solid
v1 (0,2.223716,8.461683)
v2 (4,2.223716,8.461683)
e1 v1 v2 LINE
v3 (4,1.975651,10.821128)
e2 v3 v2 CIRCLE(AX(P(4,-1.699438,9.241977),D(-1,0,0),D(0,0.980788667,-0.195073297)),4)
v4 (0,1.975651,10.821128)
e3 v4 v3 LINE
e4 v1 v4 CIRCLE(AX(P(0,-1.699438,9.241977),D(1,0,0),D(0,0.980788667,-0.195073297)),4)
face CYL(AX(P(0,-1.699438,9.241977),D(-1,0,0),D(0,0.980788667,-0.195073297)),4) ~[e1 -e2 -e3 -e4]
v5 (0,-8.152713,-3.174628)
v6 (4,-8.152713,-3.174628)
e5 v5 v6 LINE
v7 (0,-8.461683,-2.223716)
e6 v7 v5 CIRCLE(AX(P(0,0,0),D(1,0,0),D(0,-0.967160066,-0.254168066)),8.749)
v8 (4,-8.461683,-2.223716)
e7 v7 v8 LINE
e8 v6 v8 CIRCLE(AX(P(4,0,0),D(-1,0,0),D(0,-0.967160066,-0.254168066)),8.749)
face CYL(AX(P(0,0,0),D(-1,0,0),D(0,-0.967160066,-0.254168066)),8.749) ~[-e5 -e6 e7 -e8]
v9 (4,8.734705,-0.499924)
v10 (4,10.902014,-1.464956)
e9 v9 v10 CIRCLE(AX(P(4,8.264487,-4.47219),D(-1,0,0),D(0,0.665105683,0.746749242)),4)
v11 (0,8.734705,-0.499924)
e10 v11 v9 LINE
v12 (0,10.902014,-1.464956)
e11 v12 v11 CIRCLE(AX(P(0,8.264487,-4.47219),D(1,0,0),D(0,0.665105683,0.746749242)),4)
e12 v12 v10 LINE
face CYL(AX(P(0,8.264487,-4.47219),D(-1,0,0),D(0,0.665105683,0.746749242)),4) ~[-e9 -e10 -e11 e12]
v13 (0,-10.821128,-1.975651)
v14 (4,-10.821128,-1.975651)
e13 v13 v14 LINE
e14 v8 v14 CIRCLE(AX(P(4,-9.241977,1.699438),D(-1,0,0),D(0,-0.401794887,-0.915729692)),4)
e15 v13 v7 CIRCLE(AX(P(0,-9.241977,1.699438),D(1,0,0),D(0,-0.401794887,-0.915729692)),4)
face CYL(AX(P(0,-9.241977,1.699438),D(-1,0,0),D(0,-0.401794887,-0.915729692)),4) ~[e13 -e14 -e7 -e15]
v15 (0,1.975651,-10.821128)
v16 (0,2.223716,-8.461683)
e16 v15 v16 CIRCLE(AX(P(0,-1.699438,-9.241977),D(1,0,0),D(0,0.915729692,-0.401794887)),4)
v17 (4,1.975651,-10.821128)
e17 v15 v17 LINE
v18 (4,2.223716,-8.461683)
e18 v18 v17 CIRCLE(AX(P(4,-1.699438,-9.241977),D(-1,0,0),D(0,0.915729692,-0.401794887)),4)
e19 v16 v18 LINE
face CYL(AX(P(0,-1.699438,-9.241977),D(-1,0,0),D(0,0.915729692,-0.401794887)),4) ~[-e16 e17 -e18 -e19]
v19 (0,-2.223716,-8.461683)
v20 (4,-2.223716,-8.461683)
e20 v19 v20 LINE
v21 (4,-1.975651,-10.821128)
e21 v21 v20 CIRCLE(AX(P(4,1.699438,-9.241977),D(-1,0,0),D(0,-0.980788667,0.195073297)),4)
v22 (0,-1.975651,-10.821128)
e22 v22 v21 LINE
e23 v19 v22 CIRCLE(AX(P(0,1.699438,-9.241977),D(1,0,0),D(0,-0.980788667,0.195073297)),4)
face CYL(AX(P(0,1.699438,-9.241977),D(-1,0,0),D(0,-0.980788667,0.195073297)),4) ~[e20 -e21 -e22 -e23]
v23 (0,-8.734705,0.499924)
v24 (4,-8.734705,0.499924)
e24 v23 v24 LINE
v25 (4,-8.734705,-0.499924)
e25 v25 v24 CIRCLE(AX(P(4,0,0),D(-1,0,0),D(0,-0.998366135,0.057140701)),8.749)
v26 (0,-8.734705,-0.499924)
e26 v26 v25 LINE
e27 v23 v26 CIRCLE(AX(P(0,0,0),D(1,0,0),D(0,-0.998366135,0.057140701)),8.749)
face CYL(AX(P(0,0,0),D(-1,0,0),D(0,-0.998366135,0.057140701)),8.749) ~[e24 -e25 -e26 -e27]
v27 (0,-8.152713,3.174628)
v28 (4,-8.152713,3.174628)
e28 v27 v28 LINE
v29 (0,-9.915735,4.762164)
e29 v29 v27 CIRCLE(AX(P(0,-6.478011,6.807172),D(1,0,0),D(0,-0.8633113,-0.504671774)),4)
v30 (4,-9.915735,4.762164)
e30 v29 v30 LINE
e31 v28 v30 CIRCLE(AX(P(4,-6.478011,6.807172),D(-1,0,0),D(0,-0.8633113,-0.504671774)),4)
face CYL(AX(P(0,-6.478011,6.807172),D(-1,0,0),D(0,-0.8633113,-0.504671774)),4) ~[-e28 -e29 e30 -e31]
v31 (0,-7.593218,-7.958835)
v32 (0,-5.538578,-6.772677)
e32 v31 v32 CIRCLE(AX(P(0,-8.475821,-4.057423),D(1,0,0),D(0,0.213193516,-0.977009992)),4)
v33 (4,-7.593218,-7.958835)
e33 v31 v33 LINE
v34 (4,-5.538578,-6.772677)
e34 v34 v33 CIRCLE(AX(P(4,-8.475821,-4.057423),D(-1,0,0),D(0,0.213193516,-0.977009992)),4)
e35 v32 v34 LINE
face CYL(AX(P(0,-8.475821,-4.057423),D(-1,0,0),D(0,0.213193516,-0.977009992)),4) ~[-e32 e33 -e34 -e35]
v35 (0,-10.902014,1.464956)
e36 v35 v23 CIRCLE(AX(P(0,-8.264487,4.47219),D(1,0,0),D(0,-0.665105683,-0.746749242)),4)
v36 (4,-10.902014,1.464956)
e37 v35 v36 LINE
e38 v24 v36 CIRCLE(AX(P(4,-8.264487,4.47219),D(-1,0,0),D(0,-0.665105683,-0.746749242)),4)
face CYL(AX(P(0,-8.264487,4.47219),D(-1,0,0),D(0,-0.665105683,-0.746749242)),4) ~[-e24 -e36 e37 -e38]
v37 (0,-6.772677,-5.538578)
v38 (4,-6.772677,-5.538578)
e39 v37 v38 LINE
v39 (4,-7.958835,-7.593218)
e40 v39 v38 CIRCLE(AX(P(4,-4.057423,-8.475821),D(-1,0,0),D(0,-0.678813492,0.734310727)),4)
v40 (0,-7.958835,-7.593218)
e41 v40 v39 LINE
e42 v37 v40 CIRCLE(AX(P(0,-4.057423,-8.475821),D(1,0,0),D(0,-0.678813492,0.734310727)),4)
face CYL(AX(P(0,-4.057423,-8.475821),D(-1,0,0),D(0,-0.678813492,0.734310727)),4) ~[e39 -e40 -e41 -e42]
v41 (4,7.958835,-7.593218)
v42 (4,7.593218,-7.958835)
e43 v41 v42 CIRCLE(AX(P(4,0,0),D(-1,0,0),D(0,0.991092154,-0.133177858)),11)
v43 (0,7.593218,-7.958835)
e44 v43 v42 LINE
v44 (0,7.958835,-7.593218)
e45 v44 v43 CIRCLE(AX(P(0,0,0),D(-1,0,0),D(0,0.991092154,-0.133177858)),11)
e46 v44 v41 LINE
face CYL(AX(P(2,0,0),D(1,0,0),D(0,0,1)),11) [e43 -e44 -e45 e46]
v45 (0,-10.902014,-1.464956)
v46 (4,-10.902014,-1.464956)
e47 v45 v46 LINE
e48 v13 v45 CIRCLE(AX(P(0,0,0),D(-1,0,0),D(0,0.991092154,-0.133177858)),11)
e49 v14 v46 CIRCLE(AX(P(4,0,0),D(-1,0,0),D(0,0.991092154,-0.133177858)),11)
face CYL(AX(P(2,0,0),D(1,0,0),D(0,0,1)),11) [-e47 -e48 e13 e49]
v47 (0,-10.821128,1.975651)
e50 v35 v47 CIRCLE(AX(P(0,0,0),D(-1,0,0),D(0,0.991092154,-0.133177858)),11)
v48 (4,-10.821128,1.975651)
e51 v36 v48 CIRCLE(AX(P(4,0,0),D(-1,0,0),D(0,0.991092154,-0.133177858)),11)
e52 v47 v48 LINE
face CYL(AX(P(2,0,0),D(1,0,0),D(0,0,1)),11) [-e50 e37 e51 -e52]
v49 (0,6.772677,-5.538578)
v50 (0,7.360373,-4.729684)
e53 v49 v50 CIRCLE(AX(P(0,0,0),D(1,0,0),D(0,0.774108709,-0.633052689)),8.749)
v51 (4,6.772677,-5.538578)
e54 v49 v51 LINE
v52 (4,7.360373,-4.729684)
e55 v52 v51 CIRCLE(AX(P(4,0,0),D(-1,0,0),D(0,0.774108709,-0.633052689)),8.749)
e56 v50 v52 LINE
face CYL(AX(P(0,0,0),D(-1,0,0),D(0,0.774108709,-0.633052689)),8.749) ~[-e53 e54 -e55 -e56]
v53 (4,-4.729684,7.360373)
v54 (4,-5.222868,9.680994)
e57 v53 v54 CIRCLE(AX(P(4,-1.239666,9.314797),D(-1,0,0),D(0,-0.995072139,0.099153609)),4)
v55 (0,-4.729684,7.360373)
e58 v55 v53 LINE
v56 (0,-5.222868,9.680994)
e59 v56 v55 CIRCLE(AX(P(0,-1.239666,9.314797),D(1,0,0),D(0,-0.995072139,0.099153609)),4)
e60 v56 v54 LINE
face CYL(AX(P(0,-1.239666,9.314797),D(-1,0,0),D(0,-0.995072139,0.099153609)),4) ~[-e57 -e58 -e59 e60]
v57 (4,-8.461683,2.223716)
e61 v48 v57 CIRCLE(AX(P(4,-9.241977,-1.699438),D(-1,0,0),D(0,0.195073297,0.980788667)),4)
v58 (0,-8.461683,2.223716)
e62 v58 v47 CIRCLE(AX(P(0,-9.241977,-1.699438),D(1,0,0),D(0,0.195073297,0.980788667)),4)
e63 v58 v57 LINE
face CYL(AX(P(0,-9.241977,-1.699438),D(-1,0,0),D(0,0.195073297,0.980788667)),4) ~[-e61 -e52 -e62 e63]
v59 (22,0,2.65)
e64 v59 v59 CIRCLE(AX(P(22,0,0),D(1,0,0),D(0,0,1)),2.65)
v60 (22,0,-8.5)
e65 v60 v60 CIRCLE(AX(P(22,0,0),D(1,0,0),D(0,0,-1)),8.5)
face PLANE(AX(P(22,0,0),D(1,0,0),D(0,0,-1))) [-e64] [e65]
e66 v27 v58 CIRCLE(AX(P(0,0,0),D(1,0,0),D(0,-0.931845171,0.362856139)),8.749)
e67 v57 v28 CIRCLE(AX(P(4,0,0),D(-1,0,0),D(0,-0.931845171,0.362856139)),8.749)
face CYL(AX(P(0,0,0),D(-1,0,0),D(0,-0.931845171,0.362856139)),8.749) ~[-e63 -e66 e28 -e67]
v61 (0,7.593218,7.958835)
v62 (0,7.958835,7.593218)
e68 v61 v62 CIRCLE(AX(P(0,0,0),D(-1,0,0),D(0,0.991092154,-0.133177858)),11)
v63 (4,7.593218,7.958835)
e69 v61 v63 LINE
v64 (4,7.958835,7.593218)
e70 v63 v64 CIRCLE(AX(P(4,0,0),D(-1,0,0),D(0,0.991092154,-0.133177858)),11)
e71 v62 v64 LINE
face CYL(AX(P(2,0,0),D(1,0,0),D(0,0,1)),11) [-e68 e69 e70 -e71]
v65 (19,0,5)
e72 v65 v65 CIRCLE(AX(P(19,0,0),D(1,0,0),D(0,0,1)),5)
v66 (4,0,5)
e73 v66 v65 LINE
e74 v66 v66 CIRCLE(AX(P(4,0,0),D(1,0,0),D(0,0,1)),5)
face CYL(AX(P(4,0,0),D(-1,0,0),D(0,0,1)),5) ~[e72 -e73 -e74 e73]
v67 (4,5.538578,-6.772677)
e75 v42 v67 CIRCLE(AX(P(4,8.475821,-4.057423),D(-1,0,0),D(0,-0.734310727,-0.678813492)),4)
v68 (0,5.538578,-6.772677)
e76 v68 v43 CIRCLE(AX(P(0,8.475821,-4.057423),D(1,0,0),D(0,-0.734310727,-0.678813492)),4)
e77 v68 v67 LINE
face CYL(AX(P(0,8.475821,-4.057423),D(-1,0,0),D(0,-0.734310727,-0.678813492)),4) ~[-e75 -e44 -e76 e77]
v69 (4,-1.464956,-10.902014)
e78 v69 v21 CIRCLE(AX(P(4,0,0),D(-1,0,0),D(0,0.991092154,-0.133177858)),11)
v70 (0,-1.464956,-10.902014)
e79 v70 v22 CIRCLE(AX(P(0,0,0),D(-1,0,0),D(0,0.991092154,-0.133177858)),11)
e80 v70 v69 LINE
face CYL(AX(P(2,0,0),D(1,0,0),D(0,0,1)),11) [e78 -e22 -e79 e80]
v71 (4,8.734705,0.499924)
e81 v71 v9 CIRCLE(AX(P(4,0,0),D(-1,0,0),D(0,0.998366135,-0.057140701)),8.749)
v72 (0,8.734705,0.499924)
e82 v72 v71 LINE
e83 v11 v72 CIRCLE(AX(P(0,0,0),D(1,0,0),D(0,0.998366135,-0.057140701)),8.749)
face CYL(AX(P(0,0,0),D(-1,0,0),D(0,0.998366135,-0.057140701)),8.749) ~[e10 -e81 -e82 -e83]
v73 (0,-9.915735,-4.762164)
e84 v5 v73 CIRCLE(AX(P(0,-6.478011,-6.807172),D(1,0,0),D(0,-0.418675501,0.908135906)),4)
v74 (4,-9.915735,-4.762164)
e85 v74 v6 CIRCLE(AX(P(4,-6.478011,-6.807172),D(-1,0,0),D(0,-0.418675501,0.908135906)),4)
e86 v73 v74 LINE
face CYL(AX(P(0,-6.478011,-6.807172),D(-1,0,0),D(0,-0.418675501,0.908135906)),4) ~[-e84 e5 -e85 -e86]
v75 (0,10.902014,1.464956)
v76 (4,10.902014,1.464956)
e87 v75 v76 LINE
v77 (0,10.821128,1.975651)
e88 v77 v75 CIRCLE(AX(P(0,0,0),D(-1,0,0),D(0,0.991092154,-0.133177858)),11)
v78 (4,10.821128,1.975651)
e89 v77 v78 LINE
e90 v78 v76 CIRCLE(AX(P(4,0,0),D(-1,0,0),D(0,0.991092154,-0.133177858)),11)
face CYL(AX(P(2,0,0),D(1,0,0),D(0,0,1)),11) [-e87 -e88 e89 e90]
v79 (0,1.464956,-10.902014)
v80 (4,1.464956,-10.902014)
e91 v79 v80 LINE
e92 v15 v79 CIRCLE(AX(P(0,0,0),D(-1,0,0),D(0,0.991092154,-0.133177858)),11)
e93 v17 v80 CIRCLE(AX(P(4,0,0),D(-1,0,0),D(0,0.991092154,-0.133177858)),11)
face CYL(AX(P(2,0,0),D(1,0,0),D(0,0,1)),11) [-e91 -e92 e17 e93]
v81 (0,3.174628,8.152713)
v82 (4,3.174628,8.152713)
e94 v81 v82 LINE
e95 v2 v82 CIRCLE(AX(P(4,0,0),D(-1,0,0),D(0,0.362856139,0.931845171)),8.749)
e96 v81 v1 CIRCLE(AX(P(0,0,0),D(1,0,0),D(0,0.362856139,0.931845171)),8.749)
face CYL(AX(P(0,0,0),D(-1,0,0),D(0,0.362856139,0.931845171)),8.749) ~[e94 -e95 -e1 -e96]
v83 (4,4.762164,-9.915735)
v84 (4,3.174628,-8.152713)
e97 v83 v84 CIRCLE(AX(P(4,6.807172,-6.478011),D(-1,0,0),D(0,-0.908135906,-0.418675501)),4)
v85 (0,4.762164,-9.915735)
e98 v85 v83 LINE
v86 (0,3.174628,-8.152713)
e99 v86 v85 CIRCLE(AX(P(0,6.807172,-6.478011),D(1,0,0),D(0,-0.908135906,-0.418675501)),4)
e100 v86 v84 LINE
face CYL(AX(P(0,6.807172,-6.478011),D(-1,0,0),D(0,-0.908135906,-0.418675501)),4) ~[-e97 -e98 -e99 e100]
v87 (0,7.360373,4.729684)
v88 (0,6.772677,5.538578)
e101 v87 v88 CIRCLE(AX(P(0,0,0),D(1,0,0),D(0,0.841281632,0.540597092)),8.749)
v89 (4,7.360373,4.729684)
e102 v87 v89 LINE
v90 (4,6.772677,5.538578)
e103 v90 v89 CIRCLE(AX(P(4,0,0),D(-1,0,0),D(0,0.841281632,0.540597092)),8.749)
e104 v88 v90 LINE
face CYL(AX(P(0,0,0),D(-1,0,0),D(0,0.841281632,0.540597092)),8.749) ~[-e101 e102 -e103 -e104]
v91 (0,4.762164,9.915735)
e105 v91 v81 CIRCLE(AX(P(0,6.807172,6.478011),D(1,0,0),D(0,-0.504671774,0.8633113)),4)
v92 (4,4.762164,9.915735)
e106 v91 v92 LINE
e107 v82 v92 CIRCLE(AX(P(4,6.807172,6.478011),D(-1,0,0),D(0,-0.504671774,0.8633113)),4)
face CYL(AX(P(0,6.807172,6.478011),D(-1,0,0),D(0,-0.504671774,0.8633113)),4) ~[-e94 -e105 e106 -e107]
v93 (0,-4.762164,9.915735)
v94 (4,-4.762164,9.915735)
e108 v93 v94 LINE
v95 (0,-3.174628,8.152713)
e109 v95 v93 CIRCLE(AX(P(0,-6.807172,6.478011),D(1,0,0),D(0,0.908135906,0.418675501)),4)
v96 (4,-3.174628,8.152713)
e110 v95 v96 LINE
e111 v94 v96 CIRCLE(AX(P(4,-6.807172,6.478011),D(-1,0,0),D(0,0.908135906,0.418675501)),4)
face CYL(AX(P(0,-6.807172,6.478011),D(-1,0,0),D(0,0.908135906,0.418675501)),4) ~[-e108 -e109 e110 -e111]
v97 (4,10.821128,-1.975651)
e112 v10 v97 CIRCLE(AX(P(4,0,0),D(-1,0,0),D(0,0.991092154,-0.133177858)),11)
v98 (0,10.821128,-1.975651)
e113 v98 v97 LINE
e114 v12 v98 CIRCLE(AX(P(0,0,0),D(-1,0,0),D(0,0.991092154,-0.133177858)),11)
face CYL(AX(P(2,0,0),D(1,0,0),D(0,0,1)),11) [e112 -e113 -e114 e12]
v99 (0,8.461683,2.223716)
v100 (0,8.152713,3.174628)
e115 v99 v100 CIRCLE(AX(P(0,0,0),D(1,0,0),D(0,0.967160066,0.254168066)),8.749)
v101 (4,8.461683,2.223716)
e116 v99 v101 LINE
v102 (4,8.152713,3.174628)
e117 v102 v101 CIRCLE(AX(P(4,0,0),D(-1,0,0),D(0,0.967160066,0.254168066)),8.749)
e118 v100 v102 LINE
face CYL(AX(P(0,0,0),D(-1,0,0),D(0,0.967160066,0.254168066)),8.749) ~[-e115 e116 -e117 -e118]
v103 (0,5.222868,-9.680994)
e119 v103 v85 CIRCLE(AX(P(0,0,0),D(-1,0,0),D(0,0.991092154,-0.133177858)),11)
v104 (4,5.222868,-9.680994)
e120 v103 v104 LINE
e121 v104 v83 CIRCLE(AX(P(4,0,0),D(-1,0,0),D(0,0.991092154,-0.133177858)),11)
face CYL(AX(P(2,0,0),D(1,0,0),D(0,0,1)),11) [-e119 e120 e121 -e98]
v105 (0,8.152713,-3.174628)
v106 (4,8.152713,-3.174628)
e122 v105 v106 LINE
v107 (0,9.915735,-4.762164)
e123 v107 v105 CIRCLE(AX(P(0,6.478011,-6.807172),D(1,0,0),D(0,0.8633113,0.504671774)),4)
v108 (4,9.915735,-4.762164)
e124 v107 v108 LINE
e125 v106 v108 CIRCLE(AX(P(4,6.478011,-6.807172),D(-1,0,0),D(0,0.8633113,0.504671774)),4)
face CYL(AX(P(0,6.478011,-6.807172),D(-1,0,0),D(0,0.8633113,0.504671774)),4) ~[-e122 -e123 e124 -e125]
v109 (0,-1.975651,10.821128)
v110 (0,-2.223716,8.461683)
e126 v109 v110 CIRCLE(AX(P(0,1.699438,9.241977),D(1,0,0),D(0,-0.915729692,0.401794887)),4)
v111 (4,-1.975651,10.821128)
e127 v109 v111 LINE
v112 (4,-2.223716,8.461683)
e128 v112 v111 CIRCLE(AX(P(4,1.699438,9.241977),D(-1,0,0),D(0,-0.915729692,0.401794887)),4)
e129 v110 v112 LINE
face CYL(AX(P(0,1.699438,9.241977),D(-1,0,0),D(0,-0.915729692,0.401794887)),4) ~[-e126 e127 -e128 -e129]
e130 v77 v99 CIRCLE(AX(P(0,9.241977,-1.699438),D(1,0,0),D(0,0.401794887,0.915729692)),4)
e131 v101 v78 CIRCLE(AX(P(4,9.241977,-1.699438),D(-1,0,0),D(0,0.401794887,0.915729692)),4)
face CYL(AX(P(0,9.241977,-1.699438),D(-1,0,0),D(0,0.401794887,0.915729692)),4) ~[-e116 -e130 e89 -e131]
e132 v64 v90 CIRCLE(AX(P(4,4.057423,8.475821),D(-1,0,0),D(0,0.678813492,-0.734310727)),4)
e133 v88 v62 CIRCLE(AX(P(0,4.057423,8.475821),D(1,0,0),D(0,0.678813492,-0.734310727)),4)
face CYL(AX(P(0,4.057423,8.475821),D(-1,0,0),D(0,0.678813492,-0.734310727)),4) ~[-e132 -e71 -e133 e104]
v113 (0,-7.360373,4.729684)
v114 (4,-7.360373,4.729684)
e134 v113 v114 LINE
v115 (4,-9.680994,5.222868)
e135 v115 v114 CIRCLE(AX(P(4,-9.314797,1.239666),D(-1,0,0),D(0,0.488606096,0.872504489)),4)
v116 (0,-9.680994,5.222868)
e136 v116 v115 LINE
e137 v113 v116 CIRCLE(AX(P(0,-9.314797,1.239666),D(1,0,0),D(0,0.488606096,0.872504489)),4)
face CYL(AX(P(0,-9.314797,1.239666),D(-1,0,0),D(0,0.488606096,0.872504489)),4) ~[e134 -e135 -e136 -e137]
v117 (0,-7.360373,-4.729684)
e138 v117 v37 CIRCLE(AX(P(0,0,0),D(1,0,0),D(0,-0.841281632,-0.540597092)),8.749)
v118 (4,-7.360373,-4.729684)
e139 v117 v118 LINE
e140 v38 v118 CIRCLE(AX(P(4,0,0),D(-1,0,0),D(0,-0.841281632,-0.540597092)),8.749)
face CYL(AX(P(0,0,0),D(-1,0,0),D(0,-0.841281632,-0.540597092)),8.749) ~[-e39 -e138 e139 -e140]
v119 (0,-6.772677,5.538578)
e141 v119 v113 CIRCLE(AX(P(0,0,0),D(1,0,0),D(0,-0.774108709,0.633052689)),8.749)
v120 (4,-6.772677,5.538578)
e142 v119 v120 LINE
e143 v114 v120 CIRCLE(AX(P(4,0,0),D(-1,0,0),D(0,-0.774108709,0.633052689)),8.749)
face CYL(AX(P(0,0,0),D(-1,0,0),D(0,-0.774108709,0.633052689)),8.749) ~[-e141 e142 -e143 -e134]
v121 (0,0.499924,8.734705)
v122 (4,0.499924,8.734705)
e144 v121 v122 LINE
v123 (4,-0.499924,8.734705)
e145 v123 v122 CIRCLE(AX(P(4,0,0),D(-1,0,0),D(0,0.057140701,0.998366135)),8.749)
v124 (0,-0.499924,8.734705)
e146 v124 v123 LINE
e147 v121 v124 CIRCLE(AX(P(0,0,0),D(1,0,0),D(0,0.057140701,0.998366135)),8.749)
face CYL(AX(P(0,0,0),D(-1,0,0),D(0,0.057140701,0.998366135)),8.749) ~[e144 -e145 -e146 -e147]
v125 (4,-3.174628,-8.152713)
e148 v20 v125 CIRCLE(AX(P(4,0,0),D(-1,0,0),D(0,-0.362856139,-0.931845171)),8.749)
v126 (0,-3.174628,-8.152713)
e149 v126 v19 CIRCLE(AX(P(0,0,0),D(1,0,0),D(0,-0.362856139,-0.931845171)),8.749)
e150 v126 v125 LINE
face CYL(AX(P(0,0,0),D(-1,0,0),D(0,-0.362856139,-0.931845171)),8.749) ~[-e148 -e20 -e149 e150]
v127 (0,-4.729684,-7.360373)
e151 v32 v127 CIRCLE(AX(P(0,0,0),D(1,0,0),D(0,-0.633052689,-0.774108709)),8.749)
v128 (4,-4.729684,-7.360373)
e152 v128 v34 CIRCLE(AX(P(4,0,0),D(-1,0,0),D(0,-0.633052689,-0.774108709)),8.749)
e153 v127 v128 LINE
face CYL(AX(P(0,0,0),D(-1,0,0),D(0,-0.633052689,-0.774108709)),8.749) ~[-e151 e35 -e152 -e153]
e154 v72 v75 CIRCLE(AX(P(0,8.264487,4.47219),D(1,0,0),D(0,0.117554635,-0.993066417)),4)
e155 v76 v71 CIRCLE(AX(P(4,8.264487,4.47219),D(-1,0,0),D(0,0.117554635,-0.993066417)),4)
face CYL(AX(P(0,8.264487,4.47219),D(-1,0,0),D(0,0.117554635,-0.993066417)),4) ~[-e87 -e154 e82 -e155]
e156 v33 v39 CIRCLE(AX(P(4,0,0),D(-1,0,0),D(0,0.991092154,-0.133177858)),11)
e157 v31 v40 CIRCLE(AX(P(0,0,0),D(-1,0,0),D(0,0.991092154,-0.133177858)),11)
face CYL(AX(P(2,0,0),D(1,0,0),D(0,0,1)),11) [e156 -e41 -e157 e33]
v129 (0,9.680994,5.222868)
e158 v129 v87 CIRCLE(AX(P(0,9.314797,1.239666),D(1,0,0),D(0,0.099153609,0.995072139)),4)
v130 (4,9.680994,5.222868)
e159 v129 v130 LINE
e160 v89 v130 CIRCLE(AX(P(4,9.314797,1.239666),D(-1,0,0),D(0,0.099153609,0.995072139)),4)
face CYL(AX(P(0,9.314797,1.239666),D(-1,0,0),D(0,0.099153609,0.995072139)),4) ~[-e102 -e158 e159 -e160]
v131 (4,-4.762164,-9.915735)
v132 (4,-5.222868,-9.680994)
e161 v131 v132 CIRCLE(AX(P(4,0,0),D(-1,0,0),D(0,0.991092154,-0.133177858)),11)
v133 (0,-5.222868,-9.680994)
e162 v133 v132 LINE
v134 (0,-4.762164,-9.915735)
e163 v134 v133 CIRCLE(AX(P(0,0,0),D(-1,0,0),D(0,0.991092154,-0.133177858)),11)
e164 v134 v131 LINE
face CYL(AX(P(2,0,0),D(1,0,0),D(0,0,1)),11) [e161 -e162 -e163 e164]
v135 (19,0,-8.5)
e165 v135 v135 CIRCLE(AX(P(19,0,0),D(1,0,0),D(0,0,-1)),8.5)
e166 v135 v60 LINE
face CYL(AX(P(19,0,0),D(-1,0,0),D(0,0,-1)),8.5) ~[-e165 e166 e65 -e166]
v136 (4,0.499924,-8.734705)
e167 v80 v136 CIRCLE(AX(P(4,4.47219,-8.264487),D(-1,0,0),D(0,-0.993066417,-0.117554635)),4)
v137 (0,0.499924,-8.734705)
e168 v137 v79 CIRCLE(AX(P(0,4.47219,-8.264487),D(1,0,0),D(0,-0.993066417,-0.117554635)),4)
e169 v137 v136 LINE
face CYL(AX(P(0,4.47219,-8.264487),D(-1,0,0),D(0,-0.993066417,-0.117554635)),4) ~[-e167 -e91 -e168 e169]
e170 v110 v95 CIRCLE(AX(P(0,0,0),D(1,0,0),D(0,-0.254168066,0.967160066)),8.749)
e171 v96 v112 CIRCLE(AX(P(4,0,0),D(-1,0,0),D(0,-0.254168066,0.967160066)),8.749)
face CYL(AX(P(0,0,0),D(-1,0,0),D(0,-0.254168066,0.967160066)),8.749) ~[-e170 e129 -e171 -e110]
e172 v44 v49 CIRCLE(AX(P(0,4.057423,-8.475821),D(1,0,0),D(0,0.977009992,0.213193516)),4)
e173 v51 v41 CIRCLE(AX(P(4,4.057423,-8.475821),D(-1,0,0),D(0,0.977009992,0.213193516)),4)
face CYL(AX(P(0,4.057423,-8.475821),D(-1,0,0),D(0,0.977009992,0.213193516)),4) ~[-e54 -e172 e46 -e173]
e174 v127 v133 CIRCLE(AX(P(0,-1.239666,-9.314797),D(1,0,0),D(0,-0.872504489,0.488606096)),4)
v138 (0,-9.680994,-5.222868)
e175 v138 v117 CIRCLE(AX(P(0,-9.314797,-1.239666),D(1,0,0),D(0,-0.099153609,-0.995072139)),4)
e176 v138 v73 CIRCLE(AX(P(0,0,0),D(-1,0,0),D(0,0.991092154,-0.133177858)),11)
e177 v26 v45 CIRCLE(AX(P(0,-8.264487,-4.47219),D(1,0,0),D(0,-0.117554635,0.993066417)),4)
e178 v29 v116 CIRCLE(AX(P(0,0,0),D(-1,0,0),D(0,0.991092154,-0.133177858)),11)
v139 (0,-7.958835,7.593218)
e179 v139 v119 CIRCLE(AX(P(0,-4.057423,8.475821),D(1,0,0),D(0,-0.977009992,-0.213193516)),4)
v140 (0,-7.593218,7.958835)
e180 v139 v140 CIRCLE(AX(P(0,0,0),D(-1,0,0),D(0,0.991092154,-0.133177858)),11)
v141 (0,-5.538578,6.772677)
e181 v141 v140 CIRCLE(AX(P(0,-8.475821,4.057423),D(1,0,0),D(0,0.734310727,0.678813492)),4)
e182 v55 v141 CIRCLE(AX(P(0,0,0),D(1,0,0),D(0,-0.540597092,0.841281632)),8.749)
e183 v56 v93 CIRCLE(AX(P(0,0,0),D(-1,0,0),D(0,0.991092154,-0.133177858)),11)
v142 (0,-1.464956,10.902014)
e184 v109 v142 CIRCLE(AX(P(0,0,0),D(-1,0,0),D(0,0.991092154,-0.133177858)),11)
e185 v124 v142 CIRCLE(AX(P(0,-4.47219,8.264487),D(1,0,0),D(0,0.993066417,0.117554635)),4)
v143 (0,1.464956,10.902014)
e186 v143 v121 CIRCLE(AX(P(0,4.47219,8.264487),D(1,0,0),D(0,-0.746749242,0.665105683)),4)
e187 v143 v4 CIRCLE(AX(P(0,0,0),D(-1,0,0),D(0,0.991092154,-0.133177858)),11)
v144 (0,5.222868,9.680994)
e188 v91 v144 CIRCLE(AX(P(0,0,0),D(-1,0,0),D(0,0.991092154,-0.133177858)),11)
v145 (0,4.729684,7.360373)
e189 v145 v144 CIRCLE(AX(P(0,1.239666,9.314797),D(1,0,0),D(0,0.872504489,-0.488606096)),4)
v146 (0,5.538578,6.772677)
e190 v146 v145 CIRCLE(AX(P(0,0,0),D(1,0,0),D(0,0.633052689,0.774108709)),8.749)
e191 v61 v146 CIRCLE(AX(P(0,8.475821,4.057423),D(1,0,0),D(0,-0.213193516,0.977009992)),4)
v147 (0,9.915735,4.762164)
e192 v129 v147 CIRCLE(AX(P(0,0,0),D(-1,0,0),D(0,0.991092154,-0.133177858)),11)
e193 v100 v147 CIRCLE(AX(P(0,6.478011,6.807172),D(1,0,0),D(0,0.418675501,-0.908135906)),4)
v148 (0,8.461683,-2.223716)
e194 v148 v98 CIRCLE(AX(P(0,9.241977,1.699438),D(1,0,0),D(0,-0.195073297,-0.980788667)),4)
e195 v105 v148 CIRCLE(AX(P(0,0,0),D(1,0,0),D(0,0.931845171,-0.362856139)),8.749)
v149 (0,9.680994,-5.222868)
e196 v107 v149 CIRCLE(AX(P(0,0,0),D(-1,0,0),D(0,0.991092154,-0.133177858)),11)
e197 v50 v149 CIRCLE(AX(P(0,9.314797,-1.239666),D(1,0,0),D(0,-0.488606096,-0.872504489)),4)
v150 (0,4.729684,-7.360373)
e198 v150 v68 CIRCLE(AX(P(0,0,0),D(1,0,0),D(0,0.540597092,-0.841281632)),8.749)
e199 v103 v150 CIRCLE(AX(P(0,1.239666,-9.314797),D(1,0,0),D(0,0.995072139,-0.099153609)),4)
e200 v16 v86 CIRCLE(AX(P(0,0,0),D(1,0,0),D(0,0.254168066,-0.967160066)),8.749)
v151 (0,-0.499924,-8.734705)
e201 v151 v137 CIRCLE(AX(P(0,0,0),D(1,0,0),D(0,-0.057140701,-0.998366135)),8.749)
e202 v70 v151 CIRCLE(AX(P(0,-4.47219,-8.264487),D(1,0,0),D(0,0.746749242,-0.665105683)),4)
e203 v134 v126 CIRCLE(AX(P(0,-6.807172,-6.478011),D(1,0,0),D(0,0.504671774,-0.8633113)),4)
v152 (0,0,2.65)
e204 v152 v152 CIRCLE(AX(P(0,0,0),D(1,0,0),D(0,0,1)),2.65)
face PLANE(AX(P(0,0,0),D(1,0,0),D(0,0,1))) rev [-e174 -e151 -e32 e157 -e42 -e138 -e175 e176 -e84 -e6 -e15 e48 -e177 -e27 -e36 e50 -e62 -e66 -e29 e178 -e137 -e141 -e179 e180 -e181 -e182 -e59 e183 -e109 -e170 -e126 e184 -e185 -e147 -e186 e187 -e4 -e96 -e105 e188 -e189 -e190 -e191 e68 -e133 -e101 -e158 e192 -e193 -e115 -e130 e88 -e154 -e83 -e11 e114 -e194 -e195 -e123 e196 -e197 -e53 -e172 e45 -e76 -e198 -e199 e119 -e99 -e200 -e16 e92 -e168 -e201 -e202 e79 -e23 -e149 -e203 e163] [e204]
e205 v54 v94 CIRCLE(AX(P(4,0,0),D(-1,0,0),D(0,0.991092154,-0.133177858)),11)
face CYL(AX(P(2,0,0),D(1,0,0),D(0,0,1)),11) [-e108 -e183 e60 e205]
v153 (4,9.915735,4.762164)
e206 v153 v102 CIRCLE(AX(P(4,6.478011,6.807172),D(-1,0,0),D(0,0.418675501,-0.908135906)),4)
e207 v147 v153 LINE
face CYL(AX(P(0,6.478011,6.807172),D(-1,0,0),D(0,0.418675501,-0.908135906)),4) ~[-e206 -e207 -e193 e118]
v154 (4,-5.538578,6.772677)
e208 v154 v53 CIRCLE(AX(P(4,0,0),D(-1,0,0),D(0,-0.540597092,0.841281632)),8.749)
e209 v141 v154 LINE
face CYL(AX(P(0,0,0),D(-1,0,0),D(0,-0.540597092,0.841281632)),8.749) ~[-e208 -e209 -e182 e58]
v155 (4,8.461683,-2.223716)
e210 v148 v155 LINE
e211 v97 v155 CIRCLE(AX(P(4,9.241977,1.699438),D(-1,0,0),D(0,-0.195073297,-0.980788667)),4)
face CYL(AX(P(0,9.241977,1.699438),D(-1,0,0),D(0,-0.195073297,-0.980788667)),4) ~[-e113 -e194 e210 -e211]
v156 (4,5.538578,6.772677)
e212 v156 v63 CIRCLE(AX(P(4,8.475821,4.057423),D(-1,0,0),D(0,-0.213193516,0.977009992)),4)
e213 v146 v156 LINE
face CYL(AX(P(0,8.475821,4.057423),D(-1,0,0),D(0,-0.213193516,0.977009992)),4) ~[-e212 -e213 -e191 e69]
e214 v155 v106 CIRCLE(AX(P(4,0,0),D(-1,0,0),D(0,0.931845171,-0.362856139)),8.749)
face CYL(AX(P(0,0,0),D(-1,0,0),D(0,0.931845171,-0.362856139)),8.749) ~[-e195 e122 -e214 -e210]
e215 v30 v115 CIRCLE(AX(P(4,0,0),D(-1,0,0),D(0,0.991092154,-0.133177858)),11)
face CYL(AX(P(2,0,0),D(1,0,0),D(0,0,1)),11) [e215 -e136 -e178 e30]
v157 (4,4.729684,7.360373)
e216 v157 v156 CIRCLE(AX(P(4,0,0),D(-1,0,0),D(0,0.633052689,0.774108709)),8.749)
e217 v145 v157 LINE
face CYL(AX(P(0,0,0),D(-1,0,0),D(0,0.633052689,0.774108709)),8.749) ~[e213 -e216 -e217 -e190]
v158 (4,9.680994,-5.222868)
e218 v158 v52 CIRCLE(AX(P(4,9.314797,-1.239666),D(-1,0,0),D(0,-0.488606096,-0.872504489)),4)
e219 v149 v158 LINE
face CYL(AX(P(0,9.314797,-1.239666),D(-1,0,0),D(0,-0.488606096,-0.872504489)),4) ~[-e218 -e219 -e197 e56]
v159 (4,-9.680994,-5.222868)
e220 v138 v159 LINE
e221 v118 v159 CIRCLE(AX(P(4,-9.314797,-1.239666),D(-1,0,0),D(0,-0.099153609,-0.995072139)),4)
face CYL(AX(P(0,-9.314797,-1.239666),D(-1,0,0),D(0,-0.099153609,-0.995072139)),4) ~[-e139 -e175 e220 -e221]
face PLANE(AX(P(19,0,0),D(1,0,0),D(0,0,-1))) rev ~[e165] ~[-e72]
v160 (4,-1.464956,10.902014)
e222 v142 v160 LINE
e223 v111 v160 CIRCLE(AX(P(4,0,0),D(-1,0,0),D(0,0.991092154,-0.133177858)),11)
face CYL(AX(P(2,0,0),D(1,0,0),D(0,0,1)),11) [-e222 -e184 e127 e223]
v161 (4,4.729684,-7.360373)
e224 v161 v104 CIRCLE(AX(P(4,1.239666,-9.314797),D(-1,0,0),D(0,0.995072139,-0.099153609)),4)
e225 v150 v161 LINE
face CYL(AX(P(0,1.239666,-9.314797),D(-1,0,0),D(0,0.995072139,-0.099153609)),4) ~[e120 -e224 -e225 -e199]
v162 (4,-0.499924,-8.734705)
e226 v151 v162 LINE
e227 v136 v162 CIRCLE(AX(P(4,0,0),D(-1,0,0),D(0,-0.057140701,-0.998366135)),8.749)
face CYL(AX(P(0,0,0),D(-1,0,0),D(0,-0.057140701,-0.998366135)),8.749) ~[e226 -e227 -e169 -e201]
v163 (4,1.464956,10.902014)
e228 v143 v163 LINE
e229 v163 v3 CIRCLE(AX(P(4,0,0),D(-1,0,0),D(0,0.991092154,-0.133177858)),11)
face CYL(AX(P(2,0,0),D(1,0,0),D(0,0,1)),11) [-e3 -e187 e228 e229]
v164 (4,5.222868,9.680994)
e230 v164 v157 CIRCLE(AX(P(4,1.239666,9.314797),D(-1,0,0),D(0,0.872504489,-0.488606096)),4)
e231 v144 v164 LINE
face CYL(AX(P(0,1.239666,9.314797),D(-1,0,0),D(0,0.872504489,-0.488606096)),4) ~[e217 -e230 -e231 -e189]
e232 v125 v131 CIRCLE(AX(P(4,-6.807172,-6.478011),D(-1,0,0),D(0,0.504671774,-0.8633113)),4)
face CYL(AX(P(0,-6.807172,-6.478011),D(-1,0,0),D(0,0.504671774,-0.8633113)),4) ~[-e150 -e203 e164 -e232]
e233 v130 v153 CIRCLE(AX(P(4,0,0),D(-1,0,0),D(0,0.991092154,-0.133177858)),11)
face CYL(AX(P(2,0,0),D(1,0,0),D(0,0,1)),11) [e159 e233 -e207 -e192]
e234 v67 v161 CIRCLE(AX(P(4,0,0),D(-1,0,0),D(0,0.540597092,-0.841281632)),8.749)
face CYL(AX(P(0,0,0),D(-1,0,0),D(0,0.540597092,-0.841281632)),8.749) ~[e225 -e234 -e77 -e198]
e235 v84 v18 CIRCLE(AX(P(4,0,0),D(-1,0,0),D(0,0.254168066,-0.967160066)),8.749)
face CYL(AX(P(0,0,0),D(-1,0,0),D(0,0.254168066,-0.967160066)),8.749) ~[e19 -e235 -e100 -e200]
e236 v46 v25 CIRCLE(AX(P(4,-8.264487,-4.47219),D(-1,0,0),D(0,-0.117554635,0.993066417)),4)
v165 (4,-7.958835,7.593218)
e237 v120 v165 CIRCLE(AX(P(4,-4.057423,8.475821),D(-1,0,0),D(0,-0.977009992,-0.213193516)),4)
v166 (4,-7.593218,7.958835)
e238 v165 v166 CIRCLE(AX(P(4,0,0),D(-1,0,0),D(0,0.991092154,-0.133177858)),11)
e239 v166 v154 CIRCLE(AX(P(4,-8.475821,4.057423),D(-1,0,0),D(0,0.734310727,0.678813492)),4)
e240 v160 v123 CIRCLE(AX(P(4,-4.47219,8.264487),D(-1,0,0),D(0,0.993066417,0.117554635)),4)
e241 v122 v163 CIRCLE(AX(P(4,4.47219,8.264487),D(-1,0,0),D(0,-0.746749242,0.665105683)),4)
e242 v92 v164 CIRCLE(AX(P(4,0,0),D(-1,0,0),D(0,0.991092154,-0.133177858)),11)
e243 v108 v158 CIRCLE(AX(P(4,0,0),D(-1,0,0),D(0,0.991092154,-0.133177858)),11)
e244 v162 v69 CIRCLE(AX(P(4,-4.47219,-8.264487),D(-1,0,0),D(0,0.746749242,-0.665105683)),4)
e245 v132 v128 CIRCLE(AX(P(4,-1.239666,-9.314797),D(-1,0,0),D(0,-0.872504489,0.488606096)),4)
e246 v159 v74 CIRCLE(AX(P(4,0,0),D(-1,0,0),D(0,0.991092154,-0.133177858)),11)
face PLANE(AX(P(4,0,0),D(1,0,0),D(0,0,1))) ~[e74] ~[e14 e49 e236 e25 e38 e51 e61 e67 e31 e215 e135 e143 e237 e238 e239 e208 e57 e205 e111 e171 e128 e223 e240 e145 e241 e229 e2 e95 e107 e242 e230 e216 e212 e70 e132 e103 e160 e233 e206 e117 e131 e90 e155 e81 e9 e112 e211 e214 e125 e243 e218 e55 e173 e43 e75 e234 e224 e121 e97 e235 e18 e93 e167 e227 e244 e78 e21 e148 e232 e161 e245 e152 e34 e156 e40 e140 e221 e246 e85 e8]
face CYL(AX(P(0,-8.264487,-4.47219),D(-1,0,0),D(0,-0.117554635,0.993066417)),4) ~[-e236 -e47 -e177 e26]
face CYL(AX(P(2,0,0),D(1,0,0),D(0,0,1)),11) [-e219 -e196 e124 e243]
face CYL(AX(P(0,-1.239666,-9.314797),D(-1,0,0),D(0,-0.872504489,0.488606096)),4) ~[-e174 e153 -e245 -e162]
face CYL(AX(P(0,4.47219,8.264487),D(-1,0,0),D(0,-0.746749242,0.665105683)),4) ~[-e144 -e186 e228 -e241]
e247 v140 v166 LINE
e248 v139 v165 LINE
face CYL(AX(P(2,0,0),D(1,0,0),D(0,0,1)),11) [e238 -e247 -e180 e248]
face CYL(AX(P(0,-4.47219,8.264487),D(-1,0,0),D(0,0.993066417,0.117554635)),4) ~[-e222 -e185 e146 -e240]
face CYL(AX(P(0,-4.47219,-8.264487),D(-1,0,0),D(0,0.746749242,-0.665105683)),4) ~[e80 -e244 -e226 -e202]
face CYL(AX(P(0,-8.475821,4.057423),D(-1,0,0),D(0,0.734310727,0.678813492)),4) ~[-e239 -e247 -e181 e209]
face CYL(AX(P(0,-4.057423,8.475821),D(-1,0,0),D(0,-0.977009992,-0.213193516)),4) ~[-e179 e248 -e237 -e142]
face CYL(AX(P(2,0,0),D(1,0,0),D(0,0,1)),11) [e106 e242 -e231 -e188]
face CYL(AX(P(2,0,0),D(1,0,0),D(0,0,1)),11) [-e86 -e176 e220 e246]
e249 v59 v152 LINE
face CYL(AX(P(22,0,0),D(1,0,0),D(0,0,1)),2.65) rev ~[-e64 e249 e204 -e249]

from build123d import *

# Parameters (mm, degrees)
BASPROSKE_W             = 4
BASPROSKE_H             = 11
TOOTHCUT_DEPTH          = 17.062378404
TEETHCUTS_COUNT         = 20
TEETHCUTS_ANGLE         = 342
BORSKE_R                = 2.5
BORE_DEPTH              = 50.0000508
SKETCH2_R               = 5
BOSS_EXTRUDE2_DEPTH     = 15
SKETCH3_R               = 8.5
BOSS_EXTRUDE3_DEPTH     = 3
SKETCH4_R               = 2.65
CUT_EXTRUDE1_DEPTH      = 27.864619954
CUT_EXTRUDE1_DEPTH_BACK = 27.864619954


with BuildPart() as part:
    # BasProSke → Base-Revolve (revolve)
    with BuildSketch(Plane(origin=(0, 0, 0), x_dir=(1, 0, 0), z_dir=(0, 1, 0)), mode=Mode.PRIVATE) as base_revolve_sk:
        with Locations((2, 5.5)):
            Rectangle(BASPROSKE_W, BASPROSKE_H)
    revolve(base_revolve_sk.sketch.rotate(Axis((-10, 0, 0), (1, 0, 0)), 180), axis=Axis((-10, 0, 0), (1, 0, 0)))

    # TooCutSke → ToothCut (cut, through all)
    with BuildSketch(Plane(origin=(0, 0, 0), x_dir=(0, 0, -1), z_dir=(1, 0, 0))):
        with BuildLine():
            ThreePointArc((0.499924007, 8.734705318), (0, 8.749), (-0.499924007, 8.734705318))
            ThreePointArc((-0.499924007, 8.734705318), (-0.824302243, 9.905497836), (-1.485192705, 10.924909509))
            ThreePointArc((-1.485192705, 10.924909509), (0, 11.0254), (1.485192705, 10.924909509))
            ThreePointArc((1.485192705, 10.924909509), (0.824302243, 9.905497836), (0.499924007, 8.734705318))
        make_face()
    toothcut = extrude(amount=TOOTHCUT_DEPTH, mode=Mode.SUBTRACT)

    # TeethCuts: ToothCut ×20 about axis
    teethcuts_axis = Axis((-10, 0, 0), (1, 0, 0))
    for i in range(1, TEETHCUTS_COUNT):
        add(toothcut.rotate(teethcuts_axis, i * TEETHCUTS_ANGLE / (TEETHCUTS_COUNT - 1)), mode=Mode.SUBTRACT)

    # BorSke → Bore (cut, symmetric)
    with BuildSketch(Plane(origin=(0, 0, 0), x_dir=(0, 0, -1), z_dir=(1, 0, 0))):
        with Locations(Location((0, 0, 0), (0, 0, 180))):
            Circle(BORSKE_R)
    extrude(amount=BORE_DEPTH, both=True, mode=Mode.SUBTRACT)

    # Sketch2 → Boss-Extrude2 (add)
    with BuildSketch(Plane(origin=(4, 0, 0), x_dir=(0, 0, -1), z_dir=(1, 0, 0))):
        with Locations(Location((0, 0, 0), (0, 0, 180))):
            Circle(SKETCH2_R)
    extrude(amount=BOSS_EXTRUDE2_DEPTH)

    # Sketch3 → Boss-Extrude3 (add)
    with BuildSketch(Plane(origin=(19, 0, 0), x_dir=(0, 0, -1), z_dir=(1, 0, 0))):
        Circle(SKETCH3_R)
    extrude(amount=BOSS_EXTRUDE3_DEPTH)

    # Sketch4 → Cut-Extrude1 (cut, two sides)
    with BuildSketch(Plane(origin=(22, 0, 0), x_dir=(0, 0, -1), z_dir=(1, 0, 0))) as cut_extrude1_sk:
        with Locations(Location((0, 0, 0), (0, 0, 180))):
            Circle(SKETCH4_R)
    extrude(amount=CUT_EXTRUDE1_DEPTH, mode=Mode.SUBTRACT)
    extrude(cut_extrude1_sk.sketch, amount=-CUT_EXTRUDE1_DEPTH_BACK, mode=Mode.SUBTRACT)


solid = part.part
